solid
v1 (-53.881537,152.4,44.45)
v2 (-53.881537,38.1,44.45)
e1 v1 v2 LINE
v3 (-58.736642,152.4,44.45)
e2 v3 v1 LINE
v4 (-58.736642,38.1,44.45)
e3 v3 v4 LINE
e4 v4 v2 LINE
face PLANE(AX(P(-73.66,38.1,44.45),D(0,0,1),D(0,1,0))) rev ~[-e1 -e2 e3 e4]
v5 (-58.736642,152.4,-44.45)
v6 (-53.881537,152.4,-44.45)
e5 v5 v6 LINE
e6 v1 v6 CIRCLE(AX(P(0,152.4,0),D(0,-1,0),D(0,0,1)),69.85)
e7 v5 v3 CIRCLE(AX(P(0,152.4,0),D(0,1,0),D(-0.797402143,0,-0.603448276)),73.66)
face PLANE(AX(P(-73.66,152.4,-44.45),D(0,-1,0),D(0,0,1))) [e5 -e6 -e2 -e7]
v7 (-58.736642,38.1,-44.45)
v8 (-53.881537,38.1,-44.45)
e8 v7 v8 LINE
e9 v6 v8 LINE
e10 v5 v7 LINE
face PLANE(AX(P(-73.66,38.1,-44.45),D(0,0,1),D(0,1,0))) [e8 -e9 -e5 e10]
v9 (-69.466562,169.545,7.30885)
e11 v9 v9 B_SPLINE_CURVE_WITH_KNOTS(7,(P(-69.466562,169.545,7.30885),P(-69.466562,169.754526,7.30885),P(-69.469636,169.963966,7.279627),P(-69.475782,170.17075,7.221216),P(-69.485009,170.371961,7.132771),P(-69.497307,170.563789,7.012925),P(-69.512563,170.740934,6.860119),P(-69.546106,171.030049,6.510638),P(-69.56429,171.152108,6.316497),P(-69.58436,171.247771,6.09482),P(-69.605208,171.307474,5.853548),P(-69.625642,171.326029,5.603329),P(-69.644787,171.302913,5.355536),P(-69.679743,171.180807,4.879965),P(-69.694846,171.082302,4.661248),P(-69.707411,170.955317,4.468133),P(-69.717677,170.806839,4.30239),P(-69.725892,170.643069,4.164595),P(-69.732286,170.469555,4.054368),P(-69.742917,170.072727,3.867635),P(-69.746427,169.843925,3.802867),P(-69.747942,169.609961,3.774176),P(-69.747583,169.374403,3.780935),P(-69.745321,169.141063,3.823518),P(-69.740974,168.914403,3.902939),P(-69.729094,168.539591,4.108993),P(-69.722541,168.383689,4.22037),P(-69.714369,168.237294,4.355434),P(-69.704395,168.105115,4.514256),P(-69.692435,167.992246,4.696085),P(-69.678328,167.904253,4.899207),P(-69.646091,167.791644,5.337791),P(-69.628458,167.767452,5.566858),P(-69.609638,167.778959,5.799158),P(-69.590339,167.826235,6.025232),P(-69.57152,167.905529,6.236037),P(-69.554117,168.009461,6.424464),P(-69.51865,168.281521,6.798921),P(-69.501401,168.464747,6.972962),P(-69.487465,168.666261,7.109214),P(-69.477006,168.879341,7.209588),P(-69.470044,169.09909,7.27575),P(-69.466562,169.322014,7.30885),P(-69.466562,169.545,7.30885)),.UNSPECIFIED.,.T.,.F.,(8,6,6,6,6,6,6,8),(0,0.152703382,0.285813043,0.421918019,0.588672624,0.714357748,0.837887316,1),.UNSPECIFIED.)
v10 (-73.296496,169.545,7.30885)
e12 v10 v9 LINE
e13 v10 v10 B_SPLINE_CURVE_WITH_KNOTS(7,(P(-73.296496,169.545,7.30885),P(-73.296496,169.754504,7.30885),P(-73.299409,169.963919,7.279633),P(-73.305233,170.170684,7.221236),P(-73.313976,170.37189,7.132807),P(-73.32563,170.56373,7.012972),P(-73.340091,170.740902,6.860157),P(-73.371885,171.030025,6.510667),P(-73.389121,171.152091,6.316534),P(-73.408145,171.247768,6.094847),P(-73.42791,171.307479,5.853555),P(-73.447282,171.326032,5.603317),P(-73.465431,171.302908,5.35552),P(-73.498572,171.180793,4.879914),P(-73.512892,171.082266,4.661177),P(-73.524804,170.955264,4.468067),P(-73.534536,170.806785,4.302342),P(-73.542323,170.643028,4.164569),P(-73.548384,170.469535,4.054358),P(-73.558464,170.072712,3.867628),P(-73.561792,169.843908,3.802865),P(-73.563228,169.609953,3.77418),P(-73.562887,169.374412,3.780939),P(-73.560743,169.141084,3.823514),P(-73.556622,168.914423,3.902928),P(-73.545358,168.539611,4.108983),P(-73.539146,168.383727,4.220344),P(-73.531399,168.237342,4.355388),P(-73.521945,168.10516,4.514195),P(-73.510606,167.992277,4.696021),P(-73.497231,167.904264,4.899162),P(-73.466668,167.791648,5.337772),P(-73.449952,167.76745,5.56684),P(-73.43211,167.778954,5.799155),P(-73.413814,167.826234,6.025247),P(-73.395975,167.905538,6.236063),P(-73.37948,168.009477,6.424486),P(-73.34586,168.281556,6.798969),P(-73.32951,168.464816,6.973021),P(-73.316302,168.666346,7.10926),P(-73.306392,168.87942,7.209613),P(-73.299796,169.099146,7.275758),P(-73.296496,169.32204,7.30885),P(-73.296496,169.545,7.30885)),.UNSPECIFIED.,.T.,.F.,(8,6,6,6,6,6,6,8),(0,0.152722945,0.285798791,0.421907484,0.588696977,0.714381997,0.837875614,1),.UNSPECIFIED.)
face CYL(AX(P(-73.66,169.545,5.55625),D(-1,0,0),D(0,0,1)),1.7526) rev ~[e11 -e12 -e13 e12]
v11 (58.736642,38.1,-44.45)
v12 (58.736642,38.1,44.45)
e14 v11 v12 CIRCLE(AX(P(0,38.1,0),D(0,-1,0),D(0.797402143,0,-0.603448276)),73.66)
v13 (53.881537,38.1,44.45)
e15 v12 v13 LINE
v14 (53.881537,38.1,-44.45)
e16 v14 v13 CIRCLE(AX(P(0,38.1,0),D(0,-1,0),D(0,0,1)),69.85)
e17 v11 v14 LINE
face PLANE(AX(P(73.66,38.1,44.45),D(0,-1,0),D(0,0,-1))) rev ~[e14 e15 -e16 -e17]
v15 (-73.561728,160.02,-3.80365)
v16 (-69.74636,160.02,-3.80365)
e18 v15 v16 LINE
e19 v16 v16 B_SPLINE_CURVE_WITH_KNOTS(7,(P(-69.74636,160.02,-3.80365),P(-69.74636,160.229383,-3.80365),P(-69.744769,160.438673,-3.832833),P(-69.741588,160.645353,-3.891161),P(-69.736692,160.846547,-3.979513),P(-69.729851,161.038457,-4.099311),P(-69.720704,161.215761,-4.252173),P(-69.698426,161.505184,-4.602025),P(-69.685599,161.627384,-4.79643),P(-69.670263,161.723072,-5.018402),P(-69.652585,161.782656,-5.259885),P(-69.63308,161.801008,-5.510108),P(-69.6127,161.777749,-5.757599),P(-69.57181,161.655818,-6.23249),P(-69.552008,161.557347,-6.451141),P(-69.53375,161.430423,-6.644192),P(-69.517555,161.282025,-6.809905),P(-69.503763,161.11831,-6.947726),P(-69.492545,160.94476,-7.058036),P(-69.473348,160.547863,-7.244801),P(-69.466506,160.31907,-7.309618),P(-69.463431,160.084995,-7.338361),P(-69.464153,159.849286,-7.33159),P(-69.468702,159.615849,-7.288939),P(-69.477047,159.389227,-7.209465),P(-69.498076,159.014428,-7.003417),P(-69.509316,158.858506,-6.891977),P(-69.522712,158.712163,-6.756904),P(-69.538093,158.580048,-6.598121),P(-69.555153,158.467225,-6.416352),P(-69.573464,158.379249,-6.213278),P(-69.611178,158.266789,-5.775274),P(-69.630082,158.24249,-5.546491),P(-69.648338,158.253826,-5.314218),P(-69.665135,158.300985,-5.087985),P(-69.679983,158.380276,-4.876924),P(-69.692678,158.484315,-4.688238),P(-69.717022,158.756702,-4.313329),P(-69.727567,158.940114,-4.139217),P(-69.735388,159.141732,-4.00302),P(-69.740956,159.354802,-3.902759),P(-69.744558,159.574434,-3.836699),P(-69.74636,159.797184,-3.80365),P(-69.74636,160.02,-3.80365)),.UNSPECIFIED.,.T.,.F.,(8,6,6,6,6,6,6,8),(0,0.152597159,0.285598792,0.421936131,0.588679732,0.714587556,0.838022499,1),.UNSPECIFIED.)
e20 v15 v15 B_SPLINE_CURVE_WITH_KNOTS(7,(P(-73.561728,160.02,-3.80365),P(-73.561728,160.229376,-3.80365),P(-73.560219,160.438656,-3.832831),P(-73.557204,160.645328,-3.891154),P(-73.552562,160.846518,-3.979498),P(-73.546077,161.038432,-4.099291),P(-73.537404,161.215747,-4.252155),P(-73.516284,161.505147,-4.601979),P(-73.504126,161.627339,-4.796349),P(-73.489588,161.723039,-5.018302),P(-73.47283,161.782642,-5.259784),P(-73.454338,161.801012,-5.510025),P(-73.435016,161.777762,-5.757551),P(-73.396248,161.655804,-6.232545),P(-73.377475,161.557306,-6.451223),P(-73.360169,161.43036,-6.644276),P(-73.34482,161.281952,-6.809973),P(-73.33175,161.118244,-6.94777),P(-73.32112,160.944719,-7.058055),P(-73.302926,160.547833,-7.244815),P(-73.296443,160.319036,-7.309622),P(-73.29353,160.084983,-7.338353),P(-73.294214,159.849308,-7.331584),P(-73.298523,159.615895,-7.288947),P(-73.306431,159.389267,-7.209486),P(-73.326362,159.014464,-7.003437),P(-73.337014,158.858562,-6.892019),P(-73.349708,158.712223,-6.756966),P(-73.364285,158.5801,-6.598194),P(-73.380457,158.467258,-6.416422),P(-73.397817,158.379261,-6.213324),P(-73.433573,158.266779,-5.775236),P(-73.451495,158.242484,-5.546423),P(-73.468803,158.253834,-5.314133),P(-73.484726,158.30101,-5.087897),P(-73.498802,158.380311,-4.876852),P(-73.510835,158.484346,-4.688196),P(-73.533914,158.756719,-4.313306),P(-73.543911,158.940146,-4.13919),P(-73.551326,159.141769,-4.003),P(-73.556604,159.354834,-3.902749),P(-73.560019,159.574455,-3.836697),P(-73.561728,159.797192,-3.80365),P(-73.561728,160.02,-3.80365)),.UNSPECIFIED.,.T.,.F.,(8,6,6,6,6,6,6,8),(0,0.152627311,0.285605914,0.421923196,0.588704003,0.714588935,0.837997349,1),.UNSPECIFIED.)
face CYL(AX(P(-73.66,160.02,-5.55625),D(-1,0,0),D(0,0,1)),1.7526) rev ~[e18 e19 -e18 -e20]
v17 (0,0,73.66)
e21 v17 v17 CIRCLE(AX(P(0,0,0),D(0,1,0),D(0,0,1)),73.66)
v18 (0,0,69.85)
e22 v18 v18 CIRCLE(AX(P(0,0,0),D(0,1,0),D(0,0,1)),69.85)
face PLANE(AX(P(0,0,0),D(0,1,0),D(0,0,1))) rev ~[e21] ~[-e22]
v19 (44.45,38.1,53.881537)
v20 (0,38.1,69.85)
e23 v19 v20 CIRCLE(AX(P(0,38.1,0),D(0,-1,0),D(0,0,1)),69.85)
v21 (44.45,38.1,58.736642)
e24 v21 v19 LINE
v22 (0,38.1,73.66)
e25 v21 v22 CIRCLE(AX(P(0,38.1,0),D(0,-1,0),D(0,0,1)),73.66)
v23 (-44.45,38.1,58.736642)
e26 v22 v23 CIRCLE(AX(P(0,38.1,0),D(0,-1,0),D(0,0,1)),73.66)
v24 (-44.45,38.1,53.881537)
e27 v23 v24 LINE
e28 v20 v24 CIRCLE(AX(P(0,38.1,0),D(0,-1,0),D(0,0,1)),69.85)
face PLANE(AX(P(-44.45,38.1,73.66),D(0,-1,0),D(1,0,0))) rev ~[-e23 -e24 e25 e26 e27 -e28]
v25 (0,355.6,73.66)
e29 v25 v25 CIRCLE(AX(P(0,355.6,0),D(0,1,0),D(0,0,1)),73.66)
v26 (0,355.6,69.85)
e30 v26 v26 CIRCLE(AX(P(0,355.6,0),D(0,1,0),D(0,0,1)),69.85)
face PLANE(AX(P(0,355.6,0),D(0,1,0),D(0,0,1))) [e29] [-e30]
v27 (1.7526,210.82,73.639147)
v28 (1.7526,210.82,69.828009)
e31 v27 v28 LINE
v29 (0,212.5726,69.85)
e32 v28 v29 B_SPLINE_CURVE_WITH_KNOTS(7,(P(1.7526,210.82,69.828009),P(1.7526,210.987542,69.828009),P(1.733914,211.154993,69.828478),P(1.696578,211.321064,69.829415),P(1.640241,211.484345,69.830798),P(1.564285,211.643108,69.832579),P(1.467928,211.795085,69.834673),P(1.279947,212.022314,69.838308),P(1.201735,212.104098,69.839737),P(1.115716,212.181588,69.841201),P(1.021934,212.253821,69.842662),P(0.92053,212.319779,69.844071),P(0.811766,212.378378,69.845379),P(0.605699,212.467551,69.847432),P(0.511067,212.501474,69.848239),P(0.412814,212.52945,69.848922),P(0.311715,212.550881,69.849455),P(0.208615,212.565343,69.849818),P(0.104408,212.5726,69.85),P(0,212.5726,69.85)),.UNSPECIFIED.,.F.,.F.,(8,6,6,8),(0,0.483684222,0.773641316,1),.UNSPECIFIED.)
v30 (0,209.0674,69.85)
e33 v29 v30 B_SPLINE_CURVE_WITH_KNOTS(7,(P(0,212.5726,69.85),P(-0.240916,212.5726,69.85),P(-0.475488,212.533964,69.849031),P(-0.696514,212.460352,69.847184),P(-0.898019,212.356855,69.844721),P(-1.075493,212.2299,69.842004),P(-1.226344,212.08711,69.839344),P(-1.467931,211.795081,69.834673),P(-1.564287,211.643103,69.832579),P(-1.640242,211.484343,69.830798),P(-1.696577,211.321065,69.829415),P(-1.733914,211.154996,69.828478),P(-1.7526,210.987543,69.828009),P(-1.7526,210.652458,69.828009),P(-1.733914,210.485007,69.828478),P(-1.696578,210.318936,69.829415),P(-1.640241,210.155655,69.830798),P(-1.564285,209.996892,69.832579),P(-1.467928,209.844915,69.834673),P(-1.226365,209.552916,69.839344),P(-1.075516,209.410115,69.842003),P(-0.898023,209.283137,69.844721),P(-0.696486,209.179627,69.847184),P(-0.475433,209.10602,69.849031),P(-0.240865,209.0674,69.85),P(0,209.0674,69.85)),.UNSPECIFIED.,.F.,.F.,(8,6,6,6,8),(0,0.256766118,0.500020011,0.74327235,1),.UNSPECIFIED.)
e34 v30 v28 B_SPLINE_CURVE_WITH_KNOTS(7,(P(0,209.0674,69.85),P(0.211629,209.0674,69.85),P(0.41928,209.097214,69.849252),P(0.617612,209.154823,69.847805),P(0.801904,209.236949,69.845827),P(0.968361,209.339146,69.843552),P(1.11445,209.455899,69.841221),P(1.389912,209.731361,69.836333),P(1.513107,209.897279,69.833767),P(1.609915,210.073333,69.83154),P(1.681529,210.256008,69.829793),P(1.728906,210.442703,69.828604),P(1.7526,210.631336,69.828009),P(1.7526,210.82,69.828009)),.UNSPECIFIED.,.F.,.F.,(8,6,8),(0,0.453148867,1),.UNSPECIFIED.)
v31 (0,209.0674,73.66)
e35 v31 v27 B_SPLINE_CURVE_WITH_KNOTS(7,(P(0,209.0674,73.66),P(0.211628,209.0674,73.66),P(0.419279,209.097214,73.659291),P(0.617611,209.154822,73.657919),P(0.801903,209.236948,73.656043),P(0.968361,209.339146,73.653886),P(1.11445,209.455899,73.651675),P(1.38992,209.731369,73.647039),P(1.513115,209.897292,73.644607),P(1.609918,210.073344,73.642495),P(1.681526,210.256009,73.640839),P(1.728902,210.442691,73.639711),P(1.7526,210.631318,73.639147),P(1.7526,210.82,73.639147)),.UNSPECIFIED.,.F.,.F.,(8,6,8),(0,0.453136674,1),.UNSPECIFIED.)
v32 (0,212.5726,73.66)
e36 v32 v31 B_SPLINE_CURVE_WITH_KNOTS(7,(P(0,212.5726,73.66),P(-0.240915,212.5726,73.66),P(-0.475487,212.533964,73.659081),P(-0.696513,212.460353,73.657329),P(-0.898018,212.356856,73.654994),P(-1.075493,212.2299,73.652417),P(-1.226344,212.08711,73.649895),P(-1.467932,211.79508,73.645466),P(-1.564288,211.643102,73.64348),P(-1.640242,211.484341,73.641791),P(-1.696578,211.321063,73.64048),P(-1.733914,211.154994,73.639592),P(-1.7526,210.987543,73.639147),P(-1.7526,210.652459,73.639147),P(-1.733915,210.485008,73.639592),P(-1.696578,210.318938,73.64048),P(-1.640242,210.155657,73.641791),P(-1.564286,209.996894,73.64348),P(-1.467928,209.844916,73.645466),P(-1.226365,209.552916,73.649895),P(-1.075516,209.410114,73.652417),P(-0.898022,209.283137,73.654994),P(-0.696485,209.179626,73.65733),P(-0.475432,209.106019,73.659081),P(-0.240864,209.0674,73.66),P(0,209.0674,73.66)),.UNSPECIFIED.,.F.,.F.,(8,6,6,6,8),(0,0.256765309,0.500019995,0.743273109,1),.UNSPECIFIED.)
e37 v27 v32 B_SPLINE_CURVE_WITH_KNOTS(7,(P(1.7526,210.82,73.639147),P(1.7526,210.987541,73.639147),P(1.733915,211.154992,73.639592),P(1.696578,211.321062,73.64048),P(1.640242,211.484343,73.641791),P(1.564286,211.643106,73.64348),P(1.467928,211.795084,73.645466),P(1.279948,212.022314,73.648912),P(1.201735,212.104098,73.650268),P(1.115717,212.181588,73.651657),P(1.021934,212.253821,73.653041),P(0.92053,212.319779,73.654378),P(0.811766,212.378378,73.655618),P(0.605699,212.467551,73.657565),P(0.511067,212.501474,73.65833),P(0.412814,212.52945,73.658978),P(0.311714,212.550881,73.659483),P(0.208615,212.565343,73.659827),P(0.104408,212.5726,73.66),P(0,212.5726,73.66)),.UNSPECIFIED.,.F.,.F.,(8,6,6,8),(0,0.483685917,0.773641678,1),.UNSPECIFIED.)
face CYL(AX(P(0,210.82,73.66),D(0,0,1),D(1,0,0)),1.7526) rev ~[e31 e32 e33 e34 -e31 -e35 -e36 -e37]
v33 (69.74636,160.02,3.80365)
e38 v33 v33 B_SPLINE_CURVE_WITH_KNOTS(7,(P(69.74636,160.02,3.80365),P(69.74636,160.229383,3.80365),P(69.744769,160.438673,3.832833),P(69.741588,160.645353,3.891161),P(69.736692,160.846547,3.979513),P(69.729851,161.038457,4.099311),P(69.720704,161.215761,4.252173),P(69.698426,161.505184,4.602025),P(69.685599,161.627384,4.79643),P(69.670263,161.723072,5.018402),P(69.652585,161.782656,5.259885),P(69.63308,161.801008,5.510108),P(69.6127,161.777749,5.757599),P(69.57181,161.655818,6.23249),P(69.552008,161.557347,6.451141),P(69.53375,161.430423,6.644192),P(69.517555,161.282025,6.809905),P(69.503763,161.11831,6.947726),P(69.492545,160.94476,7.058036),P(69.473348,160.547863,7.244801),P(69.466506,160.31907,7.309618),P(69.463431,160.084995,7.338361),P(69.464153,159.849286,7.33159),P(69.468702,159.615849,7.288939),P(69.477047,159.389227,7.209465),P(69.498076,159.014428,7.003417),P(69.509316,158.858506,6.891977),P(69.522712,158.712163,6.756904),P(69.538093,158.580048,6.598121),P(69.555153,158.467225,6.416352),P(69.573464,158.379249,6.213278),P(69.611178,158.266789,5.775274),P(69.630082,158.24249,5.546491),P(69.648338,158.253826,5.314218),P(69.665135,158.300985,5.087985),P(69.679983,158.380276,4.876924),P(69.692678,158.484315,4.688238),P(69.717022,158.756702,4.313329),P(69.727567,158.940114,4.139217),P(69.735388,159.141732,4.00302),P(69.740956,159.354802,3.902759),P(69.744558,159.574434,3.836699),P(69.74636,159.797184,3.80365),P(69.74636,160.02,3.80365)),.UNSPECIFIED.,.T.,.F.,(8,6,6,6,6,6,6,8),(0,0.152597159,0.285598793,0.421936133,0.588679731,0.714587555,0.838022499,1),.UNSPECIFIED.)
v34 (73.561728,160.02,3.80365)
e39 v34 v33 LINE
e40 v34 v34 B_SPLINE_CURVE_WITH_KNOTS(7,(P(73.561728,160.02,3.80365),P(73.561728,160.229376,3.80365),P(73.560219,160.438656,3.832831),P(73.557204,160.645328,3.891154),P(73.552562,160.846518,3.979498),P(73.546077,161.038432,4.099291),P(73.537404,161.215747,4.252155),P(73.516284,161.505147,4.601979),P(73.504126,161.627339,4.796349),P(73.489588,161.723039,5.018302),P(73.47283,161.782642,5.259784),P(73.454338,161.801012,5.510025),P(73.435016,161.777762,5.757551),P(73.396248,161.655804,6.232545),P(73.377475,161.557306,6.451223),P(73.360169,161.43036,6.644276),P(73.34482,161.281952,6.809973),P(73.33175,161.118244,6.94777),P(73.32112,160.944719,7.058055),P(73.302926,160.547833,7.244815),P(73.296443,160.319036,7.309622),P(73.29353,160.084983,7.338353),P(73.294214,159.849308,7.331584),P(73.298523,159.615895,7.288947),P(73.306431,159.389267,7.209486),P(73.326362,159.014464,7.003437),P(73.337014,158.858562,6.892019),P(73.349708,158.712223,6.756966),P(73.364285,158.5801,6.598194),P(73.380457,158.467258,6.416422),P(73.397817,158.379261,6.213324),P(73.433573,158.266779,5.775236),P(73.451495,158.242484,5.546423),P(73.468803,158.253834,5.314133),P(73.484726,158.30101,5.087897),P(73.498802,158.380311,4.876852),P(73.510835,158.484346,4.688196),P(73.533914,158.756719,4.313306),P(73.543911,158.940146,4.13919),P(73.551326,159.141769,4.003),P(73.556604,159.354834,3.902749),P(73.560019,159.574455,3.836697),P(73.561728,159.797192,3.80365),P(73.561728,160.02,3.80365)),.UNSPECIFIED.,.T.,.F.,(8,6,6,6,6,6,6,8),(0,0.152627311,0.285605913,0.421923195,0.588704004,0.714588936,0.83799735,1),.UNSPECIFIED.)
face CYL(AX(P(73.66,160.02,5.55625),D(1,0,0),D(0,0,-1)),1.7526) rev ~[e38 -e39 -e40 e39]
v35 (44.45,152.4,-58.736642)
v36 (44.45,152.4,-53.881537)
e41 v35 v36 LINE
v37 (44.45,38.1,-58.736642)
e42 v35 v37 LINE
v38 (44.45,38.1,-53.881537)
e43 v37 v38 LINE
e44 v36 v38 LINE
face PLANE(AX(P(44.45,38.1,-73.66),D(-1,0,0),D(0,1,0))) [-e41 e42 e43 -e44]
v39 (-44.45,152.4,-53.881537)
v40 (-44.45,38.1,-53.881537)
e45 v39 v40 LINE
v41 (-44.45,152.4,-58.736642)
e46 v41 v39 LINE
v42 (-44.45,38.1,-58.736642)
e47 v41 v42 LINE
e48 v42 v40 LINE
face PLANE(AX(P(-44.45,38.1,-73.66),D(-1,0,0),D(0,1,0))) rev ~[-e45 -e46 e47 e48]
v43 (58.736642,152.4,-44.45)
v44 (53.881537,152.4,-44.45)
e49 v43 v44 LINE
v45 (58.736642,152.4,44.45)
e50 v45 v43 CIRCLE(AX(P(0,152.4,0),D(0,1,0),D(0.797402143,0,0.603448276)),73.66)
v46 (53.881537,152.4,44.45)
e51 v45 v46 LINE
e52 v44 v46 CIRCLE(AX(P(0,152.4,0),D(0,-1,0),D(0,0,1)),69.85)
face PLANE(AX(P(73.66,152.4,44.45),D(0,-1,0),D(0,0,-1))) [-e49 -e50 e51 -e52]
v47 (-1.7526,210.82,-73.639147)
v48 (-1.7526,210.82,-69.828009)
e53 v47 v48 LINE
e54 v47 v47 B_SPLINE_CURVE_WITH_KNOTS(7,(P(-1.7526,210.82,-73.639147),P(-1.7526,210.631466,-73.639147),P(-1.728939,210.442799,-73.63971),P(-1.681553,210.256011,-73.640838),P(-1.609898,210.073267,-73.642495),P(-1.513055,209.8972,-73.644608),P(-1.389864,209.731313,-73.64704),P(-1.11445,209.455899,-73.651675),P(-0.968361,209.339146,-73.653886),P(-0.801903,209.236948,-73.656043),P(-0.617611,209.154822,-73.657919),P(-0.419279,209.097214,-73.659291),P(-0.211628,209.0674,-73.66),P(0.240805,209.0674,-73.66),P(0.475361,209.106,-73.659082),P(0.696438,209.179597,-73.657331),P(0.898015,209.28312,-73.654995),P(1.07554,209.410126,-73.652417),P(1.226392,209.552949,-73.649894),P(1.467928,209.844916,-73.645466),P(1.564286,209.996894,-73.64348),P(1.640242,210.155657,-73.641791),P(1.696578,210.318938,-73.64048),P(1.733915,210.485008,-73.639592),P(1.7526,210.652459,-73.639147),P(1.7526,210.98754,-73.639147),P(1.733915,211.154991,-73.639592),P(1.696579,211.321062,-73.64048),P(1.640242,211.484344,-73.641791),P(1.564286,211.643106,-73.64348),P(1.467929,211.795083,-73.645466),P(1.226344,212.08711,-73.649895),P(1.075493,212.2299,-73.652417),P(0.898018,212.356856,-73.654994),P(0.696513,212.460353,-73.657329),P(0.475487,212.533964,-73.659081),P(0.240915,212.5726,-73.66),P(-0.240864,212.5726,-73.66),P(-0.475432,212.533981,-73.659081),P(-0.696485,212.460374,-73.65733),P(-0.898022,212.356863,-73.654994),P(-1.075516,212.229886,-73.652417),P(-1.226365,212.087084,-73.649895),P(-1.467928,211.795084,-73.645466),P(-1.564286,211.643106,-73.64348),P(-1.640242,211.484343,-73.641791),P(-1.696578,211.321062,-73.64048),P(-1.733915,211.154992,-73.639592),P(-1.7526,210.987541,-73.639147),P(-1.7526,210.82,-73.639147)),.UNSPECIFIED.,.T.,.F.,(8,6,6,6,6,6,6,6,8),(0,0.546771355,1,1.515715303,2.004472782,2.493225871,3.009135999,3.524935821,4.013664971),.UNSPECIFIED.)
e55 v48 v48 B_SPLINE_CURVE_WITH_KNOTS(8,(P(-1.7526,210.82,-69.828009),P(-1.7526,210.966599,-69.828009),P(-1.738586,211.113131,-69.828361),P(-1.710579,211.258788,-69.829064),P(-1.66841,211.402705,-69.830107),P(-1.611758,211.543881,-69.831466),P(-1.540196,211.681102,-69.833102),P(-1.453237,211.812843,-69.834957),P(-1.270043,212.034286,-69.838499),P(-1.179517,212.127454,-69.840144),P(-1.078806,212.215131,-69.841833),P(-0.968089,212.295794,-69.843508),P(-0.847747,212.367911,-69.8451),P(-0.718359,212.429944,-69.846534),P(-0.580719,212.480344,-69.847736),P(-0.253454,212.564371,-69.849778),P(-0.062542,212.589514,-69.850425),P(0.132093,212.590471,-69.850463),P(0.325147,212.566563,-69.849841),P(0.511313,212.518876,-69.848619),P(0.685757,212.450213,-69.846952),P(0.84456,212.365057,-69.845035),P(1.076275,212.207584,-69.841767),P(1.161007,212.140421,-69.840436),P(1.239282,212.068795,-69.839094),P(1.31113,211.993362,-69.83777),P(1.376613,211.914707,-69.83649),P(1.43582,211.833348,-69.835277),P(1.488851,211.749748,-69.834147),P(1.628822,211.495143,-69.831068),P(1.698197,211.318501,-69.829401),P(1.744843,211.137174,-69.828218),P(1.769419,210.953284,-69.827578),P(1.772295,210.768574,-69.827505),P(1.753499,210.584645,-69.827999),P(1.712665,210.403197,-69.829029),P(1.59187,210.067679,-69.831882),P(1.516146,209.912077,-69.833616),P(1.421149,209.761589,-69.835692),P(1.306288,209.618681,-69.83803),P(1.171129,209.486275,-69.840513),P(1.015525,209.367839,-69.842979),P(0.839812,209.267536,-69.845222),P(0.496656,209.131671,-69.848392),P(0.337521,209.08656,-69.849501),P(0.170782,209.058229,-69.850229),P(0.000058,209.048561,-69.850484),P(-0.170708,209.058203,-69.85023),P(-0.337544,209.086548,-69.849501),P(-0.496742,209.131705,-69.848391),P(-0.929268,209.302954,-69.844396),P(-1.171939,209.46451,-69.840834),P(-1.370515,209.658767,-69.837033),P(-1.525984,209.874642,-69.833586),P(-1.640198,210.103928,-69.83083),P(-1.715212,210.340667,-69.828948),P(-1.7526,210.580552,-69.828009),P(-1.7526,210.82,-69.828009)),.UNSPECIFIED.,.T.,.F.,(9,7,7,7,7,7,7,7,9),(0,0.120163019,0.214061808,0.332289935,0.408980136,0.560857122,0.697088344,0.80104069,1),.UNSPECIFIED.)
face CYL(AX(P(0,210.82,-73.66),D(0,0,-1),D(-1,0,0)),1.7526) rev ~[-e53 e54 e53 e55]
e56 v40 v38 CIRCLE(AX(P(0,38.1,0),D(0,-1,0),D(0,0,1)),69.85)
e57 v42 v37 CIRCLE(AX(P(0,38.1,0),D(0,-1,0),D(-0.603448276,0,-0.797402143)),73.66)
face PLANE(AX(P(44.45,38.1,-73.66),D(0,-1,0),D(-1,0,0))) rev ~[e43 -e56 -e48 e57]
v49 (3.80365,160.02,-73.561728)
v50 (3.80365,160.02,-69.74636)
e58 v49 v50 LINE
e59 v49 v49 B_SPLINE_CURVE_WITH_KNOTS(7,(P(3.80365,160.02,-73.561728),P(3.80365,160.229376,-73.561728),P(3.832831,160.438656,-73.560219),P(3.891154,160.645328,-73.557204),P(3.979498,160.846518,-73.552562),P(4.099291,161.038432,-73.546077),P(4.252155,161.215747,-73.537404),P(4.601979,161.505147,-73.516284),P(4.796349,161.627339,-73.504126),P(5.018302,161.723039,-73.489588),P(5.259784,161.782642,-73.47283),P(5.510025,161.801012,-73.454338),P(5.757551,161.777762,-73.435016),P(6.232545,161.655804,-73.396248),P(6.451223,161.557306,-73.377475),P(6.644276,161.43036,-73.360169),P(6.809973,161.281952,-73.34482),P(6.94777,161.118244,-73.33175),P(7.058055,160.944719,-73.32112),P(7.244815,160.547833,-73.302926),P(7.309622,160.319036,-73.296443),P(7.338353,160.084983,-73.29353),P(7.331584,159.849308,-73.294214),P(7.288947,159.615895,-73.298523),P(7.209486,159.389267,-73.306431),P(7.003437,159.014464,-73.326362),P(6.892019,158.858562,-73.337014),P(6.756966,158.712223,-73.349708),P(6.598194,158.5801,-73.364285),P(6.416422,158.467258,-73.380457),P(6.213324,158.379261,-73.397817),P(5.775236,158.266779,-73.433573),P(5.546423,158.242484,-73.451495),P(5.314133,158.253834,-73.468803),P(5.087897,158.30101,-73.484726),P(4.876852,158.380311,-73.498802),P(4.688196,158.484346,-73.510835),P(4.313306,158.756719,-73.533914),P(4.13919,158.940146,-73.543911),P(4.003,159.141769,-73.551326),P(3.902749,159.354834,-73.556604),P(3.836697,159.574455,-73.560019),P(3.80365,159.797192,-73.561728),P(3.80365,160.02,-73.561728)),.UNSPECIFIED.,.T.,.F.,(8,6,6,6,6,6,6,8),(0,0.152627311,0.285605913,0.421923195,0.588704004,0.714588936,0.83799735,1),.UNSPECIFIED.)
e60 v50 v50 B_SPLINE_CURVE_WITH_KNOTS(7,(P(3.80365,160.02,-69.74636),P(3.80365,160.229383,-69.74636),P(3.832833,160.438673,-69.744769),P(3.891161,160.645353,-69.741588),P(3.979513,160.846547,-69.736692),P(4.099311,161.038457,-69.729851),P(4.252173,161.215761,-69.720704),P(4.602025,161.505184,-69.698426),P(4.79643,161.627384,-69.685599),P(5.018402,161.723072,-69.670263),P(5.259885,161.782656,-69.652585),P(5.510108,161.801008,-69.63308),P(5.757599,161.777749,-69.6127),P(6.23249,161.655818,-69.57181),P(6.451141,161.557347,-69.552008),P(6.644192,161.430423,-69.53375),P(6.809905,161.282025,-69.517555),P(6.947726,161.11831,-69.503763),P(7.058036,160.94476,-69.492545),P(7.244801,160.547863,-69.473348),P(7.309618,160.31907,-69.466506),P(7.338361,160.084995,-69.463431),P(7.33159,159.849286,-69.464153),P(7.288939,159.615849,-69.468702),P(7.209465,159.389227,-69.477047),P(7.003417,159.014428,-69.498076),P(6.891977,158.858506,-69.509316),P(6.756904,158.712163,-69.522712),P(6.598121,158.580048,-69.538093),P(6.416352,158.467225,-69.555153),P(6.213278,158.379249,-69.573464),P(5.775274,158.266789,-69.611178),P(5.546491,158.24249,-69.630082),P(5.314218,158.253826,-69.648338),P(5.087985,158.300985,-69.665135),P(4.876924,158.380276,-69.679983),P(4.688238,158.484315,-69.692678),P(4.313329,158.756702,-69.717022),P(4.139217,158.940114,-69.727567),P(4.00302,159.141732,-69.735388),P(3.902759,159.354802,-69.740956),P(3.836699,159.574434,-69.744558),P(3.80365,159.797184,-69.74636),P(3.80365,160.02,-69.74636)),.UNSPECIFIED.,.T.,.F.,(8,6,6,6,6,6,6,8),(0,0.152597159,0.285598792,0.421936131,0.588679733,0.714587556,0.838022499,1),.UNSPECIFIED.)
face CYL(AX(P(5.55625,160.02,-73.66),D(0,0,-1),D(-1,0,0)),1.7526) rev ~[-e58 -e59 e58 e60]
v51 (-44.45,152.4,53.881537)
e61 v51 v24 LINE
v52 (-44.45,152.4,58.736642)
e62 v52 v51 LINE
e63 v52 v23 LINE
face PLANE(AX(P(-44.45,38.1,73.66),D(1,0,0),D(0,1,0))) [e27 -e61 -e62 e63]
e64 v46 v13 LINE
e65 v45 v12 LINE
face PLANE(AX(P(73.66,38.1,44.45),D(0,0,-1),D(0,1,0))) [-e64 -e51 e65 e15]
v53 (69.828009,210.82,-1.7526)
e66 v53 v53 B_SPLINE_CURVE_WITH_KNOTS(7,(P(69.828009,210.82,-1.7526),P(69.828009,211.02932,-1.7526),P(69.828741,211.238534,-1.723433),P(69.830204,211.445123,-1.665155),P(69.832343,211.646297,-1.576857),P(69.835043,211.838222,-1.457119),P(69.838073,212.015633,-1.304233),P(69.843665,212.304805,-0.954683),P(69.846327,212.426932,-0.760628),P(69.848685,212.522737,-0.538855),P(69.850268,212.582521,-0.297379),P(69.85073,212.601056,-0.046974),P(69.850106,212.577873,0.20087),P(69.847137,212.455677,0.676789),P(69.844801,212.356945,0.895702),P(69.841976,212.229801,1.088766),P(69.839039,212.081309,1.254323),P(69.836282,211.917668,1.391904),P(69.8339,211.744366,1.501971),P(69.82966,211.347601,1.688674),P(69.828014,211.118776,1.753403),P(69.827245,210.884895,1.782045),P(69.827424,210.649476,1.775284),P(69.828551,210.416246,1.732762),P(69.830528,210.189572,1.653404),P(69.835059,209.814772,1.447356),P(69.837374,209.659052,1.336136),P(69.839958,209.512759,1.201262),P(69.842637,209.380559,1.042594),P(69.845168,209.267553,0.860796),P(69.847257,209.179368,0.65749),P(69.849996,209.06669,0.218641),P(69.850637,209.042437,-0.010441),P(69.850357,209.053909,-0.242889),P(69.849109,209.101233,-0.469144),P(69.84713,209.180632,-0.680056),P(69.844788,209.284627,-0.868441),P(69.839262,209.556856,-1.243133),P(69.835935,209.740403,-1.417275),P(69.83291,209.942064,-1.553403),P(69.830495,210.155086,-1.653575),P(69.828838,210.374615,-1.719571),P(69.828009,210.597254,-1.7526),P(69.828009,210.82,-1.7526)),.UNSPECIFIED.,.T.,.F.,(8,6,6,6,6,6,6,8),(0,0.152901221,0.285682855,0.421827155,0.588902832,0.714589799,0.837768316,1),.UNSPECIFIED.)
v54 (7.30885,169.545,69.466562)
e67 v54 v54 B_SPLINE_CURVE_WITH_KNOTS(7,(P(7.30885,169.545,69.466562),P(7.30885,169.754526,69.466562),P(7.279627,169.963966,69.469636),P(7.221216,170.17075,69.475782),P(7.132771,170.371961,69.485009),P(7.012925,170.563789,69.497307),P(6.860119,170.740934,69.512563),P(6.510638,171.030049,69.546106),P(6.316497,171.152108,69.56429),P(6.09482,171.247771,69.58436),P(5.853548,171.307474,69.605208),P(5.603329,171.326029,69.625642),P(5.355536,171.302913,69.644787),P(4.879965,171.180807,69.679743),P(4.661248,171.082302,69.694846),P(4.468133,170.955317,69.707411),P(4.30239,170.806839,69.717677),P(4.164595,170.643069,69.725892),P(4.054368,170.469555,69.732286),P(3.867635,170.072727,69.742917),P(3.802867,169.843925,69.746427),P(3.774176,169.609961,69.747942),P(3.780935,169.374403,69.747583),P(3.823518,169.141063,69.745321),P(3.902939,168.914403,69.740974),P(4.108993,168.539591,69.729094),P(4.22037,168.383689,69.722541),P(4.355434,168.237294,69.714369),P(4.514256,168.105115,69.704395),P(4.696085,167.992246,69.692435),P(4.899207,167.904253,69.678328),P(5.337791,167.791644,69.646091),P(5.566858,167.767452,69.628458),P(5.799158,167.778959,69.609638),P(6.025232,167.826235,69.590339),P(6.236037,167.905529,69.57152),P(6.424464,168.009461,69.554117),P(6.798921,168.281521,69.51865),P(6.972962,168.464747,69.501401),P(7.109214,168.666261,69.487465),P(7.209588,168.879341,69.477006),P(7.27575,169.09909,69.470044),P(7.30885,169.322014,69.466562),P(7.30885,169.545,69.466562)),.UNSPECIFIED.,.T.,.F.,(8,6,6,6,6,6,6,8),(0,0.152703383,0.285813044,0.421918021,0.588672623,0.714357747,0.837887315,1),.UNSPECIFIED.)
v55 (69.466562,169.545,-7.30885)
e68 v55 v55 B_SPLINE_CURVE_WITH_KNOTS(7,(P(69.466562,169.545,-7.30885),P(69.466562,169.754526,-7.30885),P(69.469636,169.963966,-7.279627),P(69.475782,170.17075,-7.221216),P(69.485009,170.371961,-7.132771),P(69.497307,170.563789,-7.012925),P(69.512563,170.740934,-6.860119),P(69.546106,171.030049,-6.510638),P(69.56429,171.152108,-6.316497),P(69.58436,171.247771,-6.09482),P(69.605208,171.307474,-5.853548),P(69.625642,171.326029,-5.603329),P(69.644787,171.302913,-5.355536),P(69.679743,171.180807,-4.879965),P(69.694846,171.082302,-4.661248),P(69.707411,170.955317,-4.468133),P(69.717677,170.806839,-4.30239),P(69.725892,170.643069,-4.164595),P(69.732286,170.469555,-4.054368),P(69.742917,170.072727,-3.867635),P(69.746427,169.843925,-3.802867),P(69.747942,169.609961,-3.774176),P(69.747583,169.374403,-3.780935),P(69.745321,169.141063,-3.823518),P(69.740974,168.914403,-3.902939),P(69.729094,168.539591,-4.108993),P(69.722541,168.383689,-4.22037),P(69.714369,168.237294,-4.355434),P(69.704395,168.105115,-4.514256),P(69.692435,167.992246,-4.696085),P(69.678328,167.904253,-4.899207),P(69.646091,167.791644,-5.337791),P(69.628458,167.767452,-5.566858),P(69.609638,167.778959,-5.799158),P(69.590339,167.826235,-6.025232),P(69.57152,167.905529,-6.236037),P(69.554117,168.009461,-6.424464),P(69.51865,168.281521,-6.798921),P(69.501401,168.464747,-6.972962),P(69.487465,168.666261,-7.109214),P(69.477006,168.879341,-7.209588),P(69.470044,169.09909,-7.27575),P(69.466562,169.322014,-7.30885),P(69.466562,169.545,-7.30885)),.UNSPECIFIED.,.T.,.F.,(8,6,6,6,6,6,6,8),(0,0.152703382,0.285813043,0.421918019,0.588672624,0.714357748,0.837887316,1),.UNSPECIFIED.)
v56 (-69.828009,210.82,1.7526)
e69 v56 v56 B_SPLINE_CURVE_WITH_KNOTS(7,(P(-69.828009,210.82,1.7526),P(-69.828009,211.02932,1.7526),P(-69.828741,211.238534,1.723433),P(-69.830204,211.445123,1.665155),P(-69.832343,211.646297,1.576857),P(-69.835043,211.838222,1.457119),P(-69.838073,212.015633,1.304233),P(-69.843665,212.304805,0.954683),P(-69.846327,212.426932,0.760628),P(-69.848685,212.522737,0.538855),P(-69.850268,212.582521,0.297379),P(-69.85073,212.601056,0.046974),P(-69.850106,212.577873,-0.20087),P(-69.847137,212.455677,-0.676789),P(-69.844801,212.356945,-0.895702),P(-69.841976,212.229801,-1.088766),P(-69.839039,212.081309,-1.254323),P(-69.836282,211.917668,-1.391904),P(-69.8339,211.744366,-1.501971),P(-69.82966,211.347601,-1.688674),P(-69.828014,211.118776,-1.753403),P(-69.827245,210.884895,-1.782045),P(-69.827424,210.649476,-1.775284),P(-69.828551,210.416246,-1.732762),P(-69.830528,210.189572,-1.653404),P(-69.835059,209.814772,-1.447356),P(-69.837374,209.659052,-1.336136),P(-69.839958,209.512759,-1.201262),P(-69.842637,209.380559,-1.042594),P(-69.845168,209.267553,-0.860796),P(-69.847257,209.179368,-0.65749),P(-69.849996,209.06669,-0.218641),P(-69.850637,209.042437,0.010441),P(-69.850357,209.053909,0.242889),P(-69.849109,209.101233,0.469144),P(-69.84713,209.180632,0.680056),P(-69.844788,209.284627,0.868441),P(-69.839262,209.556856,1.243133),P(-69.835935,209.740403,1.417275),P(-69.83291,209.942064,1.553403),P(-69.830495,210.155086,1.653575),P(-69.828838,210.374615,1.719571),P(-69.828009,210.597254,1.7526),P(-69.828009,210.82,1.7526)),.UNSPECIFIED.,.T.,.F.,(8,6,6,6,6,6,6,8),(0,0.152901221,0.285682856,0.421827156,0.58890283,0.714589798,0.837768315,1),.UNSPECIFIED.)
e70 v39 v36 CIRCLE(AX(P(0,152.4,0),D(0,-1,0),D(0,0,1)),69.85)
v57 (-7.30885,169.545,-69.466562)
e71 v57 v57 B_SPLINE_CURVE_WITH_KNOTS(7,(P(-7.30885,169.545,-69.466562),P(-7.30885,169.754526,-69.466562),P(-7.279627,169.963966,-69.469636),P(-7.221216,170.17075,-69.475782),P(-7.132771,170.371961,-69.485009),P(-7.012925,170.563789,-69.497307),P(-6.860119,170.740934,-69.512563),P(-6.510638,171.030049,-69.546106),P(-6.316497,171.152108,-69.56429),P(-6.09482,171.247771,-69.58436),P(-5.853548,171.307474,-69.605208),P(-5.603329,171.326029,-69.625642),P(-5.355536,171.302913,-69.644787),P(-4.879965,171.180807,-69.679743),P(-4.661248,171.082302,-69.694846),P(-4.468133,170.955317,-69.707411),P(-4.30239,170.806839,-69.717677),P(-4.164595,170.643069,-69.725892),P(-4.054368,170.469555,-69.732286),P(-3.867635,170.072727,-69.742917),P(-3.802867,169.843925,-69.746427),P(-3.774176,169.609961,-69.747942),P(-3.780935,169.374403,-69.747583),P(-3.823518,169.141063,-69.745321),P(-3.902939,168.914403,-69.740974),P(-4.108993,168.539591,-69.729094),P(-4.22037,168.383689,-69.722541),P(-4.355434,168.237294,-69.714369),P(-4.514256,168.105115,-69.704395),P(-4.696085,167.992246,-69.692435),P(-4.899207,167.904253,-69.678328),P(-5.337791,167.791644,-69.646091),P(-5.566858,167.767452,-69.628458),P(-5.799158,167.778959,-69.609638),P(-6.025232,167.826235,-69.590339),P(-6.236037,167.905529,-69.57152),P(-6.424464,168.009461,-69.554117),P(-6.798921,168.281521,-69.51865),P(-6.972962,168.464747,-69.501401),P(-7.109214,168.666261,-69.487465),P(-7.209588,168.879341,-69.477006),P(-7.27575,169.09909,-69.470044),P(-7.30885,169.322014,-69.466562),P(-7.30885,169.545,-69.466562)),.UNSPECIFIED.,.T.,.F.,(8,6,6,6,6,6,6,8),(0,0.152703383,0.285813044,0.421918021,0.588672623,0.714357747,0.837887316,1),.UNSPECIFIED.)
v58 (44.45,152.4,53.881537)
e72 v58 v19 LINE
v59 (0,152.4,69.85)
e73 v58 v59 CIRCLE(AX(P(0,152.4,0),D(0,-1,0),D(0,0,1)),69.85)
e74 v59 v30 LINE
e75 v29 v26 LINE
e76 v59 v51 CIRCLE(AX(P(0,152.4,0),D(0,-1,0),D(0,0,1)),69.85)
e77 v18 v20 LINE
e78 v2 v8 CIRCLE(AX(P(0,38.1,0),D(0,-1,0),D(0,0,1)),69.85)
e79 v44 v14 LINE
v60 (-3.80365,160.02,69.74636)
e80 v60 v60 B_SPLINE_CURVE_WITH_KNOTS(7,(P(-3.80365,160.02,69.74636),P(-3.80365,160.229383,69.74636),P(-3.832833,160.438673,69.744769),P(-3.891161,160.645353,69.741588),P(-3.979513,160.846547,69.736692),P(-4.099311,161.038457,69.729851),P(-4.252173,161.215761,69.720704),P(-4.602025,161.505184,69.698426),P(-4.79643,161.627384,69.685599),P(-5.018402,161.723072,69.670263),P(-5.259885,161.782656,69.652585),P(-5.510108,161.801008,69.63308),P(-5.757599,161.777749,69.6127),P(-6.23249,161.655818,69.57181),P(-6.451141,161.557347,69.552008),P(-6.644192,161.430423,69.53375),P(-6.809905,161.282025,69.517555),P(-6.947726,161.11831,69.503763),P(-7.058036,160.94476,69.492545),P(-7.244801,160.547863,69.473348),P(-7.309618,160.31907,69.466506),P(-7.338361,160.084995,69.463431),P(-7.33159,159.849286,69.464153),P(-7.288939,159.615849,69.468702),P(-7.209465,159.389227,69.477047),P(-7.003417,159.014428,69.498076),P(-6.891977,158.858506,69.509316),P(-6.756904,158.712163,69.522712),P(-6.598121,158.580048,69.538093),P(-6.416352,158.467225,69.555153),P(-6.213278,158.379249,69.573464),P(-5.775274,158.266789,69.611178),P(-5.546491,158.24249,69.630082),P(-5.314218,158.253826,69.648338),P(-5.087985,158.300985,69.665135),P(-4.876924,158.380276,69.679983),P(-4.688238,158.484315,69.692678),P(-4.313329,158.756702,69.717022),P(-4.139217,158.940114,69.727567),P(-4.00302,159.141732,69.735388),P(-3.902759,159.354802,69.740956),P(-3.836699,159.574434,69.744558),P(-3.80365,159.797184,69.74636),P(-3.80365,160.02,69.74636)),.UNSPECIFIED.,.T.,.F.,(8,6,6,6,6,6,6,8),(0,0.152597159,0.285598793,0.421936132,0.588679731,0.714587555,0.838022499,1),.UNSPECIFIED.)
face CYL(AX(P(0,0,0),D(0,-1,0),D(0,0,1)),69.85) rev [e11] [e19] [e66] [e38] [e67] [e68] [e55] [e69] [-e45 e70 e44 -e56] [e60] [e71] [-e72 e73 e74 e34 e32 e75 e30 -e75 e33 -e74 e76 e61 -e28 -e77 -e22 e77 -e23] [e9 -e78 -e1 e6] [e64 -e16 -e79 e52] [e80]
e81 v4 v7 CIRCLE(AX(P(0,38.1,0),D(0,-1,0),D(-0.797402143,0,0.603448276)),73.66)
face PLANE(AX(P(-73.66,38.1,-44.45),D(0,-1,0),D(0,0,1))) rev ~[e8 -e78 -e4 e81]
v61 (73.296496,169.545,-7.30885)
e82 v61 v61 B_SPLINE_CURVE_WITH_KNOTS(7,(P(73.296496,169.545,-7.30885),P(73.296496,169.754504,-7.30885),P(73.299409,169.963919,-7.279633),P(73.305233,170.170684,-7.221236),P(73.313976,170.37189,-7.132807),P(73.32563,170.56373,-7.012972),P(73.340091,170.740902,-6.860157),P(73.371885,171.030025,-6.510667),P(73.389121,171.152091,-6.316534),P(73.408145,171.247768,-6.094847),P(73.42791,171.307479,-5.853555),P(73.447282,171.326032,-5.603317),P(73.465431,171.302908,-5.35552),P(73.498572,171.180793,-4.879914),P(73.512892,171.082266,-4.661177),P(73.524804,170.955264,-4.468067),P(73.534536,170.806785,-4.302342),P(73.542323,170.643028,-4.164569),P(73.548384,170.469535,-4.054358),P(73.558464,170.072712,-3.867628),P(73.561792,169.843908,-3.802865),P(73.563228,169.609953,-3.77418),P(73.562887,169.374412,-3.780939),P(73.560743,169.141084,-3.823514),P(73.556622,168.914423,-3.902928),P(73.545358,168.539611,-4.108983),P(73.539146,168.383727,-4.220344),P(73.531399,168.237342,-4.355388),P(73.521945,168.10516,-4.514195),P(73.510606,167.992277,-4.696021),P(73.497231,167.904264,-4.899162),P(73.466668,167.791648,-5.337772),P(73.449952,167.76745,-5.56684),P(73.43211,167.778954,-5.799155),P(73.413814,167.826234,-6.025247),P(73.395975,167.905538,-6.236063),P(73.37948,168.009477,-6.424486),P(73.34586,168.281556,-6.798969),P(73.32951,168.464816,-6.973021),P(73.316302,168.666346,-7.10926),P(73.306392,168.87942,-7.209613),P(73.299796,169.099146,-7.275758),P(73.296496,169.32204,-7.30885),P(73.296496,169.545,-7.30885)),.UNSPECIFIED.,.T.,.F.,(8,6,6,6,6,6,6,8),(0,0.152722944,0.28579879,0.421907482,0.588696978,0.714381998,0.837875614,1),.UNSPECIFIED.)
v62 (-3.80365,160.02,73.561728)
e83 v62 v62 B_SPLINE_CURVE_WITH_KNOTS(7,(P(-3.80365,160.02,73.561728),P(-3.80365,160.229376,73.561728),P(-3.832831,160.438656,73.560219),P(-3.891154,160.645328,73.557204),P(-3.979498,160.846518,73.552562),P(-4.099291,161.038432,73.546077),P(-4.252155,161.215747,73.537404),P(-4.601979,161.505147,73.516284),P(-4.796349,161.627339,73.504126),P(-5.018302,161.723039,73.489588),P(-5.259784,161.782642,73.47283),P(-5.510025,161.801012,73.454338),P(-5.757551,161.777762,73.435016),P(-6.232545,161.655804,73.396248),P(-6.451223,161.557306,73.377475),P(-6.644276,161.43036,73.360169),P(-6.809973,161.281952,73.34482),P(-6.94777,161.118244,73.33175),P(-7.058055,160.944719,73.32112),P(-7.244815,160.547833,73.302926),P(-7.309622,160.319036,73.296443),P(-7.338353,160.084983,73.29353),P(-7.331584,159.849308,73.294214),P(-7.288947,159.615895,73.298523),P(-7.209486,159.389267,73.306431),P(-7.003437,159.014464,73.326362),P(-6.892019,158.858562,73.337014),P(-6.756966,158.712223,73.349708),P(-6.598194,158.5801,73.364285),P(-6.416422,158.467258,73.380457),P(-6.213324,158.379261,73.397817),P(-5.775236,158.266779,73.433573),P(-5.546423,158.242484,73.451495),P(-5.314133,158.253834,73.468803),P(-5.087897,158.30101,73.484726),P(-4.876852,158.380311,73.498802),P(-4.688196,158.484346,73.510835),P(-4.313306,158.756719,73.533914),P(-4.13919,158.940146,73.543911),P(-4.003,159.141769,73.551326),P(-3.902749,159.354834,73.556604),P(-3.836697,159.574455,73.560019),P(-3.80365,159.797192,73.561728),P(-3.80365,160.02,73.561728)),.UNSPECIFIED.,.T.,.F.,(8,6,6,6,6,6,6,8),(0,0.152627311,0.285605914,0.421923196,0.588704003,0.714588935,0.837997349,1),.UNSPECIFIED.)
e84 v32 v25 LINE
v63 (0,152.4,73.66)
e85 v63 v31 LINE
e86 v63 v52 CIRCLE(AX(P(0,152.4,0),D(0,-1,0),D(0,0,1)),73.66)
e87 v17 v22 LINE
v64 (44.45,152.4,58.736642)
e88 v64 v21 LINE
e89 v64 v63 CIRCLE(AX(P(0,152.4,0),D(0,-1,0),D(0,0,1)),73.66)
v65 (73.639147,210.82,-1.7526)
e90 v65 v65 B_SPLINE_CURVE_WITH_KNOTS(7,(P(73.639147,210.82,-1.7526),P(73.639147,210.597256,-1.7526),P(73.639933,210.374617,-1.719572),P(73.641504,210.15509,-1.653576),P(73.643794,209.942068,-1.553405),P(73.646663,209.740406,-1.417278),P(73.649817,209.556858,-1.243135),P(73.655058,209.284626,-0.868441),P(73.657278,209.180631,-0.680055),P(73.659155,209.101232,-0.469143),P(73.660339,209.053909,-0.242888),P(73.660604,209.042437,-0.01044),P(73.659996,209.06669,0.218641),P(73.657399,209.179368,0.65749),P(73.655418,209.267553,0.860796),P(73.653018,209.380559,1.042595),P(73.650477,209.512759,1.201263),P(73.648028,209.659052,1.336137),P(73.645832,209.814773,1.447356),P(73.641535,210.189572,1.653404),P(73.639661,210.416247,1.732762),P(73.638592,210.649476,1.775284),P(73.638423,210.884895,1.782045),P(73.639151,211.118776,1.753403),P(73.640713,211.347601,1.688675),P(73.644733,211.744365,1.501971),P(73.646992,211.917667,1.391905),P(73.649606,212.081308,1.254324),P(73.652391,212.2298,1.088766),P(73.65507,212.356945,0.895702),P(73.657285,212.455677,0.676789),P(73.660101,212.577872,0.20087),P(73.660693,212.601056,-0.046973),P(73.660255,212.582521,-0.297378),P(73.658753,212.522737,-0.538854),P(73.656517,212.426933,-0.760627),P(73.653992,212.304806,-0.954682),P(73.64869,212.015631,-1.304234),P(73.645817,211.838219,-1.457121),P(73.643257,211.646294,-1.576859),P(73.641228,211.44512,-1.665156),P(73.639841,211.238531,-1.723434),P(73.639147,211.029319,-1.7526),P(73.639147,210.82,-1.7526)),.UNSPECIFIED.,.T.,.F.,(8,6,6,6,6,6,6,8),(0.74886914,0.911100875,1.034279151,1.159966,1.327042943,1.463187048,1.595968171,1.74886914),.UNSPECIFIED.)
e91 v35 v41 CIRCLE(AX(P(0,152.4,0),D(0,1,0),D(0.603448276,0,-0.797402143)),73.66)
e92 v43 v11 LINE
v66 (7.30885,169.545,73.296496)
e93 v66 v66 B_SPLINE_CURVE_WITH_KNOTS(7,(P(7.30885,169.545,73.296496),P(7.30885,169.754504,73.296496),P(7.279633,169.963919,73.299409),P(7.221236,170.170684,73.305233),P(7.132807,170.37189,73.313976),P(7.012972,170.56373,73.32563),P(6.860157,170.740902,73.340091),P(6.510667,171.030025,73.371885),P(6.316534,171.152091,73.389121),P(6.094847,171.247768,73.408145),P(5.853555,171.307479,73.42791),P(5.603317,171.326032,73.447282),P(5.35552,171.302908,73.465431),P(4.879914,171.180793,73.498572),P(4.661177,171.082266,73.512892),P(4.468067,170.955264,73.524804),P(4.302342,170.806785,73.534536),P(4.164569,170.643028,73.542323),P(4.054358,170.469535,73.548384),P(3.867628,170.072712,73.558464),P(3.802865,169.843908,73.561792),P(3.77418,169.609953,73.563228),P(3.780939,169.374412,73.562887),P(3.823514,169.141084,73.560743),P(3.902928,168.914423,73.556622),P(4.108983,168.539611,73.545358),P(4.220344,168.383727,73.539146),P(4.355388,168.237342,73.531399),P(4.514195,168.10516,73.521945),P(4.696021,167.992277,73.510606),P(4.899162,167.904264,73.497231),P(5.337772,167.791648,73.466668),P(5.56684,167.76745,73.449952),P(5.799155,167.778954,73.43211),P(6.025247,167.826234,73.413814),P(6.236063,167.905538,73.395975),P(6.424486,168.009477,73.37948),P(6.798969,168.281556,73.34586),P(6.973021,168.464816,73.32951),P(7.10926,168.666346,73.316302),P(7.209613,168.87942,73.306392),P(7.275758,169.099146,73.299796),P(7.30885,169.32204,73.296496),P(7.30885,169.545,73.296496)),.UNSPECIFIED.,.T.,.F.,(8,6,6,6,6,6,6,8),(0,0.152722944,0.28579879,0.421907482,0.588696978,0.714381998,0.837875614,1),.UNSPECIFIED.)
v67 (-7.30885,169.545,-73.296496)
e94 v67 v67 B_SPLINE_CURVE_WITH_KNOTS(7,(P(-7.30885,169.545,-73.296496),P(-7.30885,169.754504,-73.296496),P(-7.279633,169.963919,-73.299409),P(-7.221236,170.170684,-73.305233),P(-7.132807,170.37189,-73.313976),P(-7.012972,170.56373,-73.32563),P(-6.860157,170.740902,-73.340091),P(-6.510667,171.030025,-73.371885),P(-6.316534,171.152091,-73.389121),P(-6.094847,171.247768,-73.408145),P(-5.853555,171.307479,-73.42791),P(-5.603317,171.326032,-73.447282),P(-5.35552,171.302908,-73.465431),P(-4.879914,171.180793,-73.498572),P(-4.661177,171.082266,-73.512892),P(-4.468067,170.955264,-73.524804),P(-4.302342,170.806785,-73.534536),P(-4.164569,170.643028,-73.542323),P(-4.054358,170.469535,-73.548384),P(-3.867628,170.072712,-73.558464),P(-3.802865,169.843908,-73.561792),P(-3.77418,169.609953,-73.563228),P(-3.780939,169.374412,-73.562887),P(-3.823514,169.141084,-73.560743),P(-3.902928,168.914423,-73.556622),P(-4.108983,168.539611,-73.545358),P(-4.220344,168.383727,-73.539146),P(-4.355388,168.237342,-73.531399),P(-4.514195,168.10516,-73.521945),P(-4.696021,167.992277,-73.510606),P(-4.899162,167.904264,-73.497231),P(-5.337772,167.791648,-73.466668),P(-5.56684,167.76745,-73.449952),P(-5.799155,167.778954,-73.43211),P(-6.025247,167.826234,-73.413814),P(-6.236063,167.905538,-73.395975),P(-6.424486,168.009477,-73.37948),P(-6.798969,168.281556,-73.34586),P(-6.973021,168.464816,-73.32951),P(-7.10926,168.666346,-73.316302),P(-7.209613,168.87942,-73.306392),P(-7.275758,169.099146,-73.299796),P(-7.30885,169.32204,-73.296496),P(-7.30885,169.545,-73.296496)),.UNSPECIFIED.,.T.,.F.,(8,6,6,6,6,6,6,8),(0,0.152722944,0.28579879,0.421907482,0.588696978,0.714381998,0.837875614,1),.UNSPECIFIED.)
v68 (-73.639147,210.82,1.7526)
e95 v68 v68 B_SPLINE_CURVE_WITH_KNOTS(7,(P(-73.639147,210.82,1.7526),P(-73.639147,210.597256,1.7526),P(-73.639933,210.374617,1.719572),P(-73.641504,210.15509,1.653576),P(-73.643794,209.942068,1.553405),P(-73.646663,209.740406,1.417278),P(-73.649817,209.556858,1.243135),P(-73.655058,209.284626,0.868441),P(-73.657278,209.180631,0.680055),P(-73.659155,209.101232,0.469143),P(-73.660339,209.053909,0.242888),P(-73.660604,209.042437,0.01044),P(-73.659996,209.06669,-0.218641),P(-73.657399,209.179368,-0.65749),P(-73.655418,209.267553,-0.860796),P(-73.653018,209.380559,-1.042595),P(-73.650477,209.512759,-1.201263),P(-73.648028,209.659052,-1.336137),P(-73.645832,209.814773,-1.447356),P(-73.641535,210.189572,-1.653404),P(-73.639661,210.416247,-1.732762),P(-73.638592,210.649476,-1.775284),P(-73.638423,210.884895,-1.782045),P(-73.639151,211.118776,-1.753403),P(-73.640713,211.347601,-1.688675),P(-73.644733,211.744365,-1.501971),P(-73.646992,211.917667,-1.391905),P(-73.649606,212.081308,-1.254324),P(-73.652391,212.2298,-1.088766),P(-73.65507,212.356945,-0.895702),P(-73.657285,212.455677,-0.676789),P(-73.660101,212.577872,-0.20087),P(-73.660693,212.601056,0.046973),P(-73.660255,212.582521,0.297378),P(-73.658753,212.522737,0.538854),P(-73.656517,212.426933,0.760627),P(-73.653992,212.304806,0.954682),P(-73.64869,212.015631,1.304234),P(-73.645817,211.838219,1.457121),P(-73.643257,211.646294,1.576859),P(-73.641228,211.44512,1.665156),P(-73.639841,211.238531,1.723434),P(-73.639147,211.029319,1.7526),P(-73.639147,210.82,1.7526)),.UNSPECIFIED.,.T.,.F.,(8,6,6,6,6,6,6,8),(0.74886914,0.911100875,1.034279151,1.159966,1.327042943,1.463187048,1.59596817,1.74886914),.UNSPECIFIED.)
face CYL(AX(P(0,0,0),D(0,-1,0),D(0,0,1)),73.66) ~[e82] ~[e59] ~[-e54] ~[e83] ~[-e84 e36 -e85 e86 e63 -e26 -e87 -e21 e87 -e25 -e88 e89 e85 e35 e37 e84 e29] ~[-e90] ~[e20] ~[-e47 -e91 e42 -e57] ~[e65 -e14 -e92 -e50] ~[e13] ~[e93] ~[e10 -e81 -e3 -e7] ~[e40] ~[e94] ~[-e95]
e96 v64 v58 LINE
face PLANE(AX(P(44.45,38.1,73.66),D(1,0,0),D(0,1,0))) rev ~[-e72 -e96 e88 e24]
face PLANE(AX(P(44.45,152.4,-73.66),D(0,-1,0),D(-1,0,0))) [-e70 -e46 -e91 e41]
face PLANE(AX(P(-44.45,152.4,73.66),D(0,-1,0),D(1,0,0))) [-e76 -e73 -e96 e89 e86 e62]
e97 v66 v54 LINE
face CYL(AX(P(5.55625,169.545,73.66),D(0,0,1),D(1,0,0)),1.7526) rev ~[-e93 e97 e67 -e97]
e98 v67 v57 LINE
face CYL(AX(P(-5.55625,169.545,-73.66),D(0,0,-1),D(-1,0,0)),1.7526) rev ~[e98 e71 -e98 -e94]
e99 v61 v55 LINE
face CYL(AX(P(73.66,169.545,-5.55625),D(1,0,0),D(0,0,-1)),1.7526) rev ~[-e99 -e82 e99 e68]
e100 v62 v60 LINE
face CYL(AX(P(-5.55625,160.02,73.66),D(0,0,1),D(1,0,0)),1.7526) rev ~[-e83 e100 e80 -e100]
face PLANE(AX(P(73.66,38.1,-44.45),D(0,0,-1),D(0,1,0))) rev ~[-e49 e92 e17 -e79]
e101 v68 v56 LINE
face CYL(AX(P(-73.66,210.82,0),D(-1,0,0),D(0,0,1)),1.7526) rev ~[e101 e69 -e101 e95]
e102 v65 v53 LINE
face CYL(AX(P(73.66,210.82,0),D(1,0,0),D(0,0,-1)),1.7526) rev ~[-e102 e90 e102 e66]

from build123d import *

# Parameters (mm, degrees)
SKETCH1_R           = 73.66
SKETCH1_R_2         = 69.85
BOSS_EXTRUDE1_DEPTH = 355.6
SKETCH4_W           = 88.9
SKETCH4_H           = 114.3
CUT_EXTRUDE1_DEPTH  = 76.2
CIRPATTERN1_COUNT   = 4
SKETCH5_R           = 1.7526
CUT_EXTRUDE2_DEPTH  = 76.2
CIRPATTERN2_COUNT   = 4


with BuildPart() as part:
    # Sketch1 → Boss-Extrude1 (new body)
    with BuildSketch(Plane(origin=(0, 0, 0), x_dir=(1, 0, 0), z_dir=(0, 1, 0))):
        with Locations(Location((0, 0, 0), (0, 0, 270))):
            Circle(SKETCH1_R)
        with Locations(Location((0, 0, 0), (0, 0, 270))):
            Circle(SKETCH1_R_2, mode=Mode.SUBTRACT)
    extrude(amount=BOSS_EXTRUDE1_DEPTH)

    # Sketch4 → Cut-Extrude1 (cut)
    with BuildSketch(Plane(origin=(73.66, 0, 0), x_dir=(0, 0, -1), z_dir=(1, 0, 0))):
        with Locations((0, 95.25)):
            Rectangle(SKETCH4_W, SKETCH4_H)
    cut_extrude1 = extrude(amount=-CUT_EXTRUDE1_DEPTH, mode=Mode.SUBTRACT)

    # CirPattern1: Cut-Extrude1 ×4 about axis
    cirpattern1_axis = Axis((0, 0, 0), (0, 1, 0))
    for i in range(1, CIRPATTERN1_COUNT):
        add(cut_extrude1.rotate(cirpattern1_axis, i * 360 / CIRPATTERN1_COUNT), mode=Mode.SUBTRACT)

    # Sketch5 → Cut-Extrude2 (cut)
    with BuildSketch(Plane(origin=(73.66, 0, 0), x_dir=(0, 0, -1), z_dir=(1, 0, 0))):
        with Locations((0, 210.82)):
            Circle(SKETCH5_R)
        with Locations((5.55625, 169.545)):
            Circle(SKETCH5_R)
        with Locations((-5.55625, 160.02)):
            Circle(SKETCH5_R)
    cut_extrude2 = extrude(amount=-CUT_EXTRUDE2_DEPTH, mode=Mode.SUBTRACT)

    # CirPattern2: Cut-Extrude2 ×4 about axis
    cirpattern2_axis = Axis((0, 355.6, 0), (0, -1, 0))
    for i in range(1, CIRPATTERN2_COUNT):
        add(cut_extrude2.rotate(cirpattern2_axis, i * 360 / CIRPATTERN2_COUNT), mode=Mode.SUBTRACT)


solid = part.part
